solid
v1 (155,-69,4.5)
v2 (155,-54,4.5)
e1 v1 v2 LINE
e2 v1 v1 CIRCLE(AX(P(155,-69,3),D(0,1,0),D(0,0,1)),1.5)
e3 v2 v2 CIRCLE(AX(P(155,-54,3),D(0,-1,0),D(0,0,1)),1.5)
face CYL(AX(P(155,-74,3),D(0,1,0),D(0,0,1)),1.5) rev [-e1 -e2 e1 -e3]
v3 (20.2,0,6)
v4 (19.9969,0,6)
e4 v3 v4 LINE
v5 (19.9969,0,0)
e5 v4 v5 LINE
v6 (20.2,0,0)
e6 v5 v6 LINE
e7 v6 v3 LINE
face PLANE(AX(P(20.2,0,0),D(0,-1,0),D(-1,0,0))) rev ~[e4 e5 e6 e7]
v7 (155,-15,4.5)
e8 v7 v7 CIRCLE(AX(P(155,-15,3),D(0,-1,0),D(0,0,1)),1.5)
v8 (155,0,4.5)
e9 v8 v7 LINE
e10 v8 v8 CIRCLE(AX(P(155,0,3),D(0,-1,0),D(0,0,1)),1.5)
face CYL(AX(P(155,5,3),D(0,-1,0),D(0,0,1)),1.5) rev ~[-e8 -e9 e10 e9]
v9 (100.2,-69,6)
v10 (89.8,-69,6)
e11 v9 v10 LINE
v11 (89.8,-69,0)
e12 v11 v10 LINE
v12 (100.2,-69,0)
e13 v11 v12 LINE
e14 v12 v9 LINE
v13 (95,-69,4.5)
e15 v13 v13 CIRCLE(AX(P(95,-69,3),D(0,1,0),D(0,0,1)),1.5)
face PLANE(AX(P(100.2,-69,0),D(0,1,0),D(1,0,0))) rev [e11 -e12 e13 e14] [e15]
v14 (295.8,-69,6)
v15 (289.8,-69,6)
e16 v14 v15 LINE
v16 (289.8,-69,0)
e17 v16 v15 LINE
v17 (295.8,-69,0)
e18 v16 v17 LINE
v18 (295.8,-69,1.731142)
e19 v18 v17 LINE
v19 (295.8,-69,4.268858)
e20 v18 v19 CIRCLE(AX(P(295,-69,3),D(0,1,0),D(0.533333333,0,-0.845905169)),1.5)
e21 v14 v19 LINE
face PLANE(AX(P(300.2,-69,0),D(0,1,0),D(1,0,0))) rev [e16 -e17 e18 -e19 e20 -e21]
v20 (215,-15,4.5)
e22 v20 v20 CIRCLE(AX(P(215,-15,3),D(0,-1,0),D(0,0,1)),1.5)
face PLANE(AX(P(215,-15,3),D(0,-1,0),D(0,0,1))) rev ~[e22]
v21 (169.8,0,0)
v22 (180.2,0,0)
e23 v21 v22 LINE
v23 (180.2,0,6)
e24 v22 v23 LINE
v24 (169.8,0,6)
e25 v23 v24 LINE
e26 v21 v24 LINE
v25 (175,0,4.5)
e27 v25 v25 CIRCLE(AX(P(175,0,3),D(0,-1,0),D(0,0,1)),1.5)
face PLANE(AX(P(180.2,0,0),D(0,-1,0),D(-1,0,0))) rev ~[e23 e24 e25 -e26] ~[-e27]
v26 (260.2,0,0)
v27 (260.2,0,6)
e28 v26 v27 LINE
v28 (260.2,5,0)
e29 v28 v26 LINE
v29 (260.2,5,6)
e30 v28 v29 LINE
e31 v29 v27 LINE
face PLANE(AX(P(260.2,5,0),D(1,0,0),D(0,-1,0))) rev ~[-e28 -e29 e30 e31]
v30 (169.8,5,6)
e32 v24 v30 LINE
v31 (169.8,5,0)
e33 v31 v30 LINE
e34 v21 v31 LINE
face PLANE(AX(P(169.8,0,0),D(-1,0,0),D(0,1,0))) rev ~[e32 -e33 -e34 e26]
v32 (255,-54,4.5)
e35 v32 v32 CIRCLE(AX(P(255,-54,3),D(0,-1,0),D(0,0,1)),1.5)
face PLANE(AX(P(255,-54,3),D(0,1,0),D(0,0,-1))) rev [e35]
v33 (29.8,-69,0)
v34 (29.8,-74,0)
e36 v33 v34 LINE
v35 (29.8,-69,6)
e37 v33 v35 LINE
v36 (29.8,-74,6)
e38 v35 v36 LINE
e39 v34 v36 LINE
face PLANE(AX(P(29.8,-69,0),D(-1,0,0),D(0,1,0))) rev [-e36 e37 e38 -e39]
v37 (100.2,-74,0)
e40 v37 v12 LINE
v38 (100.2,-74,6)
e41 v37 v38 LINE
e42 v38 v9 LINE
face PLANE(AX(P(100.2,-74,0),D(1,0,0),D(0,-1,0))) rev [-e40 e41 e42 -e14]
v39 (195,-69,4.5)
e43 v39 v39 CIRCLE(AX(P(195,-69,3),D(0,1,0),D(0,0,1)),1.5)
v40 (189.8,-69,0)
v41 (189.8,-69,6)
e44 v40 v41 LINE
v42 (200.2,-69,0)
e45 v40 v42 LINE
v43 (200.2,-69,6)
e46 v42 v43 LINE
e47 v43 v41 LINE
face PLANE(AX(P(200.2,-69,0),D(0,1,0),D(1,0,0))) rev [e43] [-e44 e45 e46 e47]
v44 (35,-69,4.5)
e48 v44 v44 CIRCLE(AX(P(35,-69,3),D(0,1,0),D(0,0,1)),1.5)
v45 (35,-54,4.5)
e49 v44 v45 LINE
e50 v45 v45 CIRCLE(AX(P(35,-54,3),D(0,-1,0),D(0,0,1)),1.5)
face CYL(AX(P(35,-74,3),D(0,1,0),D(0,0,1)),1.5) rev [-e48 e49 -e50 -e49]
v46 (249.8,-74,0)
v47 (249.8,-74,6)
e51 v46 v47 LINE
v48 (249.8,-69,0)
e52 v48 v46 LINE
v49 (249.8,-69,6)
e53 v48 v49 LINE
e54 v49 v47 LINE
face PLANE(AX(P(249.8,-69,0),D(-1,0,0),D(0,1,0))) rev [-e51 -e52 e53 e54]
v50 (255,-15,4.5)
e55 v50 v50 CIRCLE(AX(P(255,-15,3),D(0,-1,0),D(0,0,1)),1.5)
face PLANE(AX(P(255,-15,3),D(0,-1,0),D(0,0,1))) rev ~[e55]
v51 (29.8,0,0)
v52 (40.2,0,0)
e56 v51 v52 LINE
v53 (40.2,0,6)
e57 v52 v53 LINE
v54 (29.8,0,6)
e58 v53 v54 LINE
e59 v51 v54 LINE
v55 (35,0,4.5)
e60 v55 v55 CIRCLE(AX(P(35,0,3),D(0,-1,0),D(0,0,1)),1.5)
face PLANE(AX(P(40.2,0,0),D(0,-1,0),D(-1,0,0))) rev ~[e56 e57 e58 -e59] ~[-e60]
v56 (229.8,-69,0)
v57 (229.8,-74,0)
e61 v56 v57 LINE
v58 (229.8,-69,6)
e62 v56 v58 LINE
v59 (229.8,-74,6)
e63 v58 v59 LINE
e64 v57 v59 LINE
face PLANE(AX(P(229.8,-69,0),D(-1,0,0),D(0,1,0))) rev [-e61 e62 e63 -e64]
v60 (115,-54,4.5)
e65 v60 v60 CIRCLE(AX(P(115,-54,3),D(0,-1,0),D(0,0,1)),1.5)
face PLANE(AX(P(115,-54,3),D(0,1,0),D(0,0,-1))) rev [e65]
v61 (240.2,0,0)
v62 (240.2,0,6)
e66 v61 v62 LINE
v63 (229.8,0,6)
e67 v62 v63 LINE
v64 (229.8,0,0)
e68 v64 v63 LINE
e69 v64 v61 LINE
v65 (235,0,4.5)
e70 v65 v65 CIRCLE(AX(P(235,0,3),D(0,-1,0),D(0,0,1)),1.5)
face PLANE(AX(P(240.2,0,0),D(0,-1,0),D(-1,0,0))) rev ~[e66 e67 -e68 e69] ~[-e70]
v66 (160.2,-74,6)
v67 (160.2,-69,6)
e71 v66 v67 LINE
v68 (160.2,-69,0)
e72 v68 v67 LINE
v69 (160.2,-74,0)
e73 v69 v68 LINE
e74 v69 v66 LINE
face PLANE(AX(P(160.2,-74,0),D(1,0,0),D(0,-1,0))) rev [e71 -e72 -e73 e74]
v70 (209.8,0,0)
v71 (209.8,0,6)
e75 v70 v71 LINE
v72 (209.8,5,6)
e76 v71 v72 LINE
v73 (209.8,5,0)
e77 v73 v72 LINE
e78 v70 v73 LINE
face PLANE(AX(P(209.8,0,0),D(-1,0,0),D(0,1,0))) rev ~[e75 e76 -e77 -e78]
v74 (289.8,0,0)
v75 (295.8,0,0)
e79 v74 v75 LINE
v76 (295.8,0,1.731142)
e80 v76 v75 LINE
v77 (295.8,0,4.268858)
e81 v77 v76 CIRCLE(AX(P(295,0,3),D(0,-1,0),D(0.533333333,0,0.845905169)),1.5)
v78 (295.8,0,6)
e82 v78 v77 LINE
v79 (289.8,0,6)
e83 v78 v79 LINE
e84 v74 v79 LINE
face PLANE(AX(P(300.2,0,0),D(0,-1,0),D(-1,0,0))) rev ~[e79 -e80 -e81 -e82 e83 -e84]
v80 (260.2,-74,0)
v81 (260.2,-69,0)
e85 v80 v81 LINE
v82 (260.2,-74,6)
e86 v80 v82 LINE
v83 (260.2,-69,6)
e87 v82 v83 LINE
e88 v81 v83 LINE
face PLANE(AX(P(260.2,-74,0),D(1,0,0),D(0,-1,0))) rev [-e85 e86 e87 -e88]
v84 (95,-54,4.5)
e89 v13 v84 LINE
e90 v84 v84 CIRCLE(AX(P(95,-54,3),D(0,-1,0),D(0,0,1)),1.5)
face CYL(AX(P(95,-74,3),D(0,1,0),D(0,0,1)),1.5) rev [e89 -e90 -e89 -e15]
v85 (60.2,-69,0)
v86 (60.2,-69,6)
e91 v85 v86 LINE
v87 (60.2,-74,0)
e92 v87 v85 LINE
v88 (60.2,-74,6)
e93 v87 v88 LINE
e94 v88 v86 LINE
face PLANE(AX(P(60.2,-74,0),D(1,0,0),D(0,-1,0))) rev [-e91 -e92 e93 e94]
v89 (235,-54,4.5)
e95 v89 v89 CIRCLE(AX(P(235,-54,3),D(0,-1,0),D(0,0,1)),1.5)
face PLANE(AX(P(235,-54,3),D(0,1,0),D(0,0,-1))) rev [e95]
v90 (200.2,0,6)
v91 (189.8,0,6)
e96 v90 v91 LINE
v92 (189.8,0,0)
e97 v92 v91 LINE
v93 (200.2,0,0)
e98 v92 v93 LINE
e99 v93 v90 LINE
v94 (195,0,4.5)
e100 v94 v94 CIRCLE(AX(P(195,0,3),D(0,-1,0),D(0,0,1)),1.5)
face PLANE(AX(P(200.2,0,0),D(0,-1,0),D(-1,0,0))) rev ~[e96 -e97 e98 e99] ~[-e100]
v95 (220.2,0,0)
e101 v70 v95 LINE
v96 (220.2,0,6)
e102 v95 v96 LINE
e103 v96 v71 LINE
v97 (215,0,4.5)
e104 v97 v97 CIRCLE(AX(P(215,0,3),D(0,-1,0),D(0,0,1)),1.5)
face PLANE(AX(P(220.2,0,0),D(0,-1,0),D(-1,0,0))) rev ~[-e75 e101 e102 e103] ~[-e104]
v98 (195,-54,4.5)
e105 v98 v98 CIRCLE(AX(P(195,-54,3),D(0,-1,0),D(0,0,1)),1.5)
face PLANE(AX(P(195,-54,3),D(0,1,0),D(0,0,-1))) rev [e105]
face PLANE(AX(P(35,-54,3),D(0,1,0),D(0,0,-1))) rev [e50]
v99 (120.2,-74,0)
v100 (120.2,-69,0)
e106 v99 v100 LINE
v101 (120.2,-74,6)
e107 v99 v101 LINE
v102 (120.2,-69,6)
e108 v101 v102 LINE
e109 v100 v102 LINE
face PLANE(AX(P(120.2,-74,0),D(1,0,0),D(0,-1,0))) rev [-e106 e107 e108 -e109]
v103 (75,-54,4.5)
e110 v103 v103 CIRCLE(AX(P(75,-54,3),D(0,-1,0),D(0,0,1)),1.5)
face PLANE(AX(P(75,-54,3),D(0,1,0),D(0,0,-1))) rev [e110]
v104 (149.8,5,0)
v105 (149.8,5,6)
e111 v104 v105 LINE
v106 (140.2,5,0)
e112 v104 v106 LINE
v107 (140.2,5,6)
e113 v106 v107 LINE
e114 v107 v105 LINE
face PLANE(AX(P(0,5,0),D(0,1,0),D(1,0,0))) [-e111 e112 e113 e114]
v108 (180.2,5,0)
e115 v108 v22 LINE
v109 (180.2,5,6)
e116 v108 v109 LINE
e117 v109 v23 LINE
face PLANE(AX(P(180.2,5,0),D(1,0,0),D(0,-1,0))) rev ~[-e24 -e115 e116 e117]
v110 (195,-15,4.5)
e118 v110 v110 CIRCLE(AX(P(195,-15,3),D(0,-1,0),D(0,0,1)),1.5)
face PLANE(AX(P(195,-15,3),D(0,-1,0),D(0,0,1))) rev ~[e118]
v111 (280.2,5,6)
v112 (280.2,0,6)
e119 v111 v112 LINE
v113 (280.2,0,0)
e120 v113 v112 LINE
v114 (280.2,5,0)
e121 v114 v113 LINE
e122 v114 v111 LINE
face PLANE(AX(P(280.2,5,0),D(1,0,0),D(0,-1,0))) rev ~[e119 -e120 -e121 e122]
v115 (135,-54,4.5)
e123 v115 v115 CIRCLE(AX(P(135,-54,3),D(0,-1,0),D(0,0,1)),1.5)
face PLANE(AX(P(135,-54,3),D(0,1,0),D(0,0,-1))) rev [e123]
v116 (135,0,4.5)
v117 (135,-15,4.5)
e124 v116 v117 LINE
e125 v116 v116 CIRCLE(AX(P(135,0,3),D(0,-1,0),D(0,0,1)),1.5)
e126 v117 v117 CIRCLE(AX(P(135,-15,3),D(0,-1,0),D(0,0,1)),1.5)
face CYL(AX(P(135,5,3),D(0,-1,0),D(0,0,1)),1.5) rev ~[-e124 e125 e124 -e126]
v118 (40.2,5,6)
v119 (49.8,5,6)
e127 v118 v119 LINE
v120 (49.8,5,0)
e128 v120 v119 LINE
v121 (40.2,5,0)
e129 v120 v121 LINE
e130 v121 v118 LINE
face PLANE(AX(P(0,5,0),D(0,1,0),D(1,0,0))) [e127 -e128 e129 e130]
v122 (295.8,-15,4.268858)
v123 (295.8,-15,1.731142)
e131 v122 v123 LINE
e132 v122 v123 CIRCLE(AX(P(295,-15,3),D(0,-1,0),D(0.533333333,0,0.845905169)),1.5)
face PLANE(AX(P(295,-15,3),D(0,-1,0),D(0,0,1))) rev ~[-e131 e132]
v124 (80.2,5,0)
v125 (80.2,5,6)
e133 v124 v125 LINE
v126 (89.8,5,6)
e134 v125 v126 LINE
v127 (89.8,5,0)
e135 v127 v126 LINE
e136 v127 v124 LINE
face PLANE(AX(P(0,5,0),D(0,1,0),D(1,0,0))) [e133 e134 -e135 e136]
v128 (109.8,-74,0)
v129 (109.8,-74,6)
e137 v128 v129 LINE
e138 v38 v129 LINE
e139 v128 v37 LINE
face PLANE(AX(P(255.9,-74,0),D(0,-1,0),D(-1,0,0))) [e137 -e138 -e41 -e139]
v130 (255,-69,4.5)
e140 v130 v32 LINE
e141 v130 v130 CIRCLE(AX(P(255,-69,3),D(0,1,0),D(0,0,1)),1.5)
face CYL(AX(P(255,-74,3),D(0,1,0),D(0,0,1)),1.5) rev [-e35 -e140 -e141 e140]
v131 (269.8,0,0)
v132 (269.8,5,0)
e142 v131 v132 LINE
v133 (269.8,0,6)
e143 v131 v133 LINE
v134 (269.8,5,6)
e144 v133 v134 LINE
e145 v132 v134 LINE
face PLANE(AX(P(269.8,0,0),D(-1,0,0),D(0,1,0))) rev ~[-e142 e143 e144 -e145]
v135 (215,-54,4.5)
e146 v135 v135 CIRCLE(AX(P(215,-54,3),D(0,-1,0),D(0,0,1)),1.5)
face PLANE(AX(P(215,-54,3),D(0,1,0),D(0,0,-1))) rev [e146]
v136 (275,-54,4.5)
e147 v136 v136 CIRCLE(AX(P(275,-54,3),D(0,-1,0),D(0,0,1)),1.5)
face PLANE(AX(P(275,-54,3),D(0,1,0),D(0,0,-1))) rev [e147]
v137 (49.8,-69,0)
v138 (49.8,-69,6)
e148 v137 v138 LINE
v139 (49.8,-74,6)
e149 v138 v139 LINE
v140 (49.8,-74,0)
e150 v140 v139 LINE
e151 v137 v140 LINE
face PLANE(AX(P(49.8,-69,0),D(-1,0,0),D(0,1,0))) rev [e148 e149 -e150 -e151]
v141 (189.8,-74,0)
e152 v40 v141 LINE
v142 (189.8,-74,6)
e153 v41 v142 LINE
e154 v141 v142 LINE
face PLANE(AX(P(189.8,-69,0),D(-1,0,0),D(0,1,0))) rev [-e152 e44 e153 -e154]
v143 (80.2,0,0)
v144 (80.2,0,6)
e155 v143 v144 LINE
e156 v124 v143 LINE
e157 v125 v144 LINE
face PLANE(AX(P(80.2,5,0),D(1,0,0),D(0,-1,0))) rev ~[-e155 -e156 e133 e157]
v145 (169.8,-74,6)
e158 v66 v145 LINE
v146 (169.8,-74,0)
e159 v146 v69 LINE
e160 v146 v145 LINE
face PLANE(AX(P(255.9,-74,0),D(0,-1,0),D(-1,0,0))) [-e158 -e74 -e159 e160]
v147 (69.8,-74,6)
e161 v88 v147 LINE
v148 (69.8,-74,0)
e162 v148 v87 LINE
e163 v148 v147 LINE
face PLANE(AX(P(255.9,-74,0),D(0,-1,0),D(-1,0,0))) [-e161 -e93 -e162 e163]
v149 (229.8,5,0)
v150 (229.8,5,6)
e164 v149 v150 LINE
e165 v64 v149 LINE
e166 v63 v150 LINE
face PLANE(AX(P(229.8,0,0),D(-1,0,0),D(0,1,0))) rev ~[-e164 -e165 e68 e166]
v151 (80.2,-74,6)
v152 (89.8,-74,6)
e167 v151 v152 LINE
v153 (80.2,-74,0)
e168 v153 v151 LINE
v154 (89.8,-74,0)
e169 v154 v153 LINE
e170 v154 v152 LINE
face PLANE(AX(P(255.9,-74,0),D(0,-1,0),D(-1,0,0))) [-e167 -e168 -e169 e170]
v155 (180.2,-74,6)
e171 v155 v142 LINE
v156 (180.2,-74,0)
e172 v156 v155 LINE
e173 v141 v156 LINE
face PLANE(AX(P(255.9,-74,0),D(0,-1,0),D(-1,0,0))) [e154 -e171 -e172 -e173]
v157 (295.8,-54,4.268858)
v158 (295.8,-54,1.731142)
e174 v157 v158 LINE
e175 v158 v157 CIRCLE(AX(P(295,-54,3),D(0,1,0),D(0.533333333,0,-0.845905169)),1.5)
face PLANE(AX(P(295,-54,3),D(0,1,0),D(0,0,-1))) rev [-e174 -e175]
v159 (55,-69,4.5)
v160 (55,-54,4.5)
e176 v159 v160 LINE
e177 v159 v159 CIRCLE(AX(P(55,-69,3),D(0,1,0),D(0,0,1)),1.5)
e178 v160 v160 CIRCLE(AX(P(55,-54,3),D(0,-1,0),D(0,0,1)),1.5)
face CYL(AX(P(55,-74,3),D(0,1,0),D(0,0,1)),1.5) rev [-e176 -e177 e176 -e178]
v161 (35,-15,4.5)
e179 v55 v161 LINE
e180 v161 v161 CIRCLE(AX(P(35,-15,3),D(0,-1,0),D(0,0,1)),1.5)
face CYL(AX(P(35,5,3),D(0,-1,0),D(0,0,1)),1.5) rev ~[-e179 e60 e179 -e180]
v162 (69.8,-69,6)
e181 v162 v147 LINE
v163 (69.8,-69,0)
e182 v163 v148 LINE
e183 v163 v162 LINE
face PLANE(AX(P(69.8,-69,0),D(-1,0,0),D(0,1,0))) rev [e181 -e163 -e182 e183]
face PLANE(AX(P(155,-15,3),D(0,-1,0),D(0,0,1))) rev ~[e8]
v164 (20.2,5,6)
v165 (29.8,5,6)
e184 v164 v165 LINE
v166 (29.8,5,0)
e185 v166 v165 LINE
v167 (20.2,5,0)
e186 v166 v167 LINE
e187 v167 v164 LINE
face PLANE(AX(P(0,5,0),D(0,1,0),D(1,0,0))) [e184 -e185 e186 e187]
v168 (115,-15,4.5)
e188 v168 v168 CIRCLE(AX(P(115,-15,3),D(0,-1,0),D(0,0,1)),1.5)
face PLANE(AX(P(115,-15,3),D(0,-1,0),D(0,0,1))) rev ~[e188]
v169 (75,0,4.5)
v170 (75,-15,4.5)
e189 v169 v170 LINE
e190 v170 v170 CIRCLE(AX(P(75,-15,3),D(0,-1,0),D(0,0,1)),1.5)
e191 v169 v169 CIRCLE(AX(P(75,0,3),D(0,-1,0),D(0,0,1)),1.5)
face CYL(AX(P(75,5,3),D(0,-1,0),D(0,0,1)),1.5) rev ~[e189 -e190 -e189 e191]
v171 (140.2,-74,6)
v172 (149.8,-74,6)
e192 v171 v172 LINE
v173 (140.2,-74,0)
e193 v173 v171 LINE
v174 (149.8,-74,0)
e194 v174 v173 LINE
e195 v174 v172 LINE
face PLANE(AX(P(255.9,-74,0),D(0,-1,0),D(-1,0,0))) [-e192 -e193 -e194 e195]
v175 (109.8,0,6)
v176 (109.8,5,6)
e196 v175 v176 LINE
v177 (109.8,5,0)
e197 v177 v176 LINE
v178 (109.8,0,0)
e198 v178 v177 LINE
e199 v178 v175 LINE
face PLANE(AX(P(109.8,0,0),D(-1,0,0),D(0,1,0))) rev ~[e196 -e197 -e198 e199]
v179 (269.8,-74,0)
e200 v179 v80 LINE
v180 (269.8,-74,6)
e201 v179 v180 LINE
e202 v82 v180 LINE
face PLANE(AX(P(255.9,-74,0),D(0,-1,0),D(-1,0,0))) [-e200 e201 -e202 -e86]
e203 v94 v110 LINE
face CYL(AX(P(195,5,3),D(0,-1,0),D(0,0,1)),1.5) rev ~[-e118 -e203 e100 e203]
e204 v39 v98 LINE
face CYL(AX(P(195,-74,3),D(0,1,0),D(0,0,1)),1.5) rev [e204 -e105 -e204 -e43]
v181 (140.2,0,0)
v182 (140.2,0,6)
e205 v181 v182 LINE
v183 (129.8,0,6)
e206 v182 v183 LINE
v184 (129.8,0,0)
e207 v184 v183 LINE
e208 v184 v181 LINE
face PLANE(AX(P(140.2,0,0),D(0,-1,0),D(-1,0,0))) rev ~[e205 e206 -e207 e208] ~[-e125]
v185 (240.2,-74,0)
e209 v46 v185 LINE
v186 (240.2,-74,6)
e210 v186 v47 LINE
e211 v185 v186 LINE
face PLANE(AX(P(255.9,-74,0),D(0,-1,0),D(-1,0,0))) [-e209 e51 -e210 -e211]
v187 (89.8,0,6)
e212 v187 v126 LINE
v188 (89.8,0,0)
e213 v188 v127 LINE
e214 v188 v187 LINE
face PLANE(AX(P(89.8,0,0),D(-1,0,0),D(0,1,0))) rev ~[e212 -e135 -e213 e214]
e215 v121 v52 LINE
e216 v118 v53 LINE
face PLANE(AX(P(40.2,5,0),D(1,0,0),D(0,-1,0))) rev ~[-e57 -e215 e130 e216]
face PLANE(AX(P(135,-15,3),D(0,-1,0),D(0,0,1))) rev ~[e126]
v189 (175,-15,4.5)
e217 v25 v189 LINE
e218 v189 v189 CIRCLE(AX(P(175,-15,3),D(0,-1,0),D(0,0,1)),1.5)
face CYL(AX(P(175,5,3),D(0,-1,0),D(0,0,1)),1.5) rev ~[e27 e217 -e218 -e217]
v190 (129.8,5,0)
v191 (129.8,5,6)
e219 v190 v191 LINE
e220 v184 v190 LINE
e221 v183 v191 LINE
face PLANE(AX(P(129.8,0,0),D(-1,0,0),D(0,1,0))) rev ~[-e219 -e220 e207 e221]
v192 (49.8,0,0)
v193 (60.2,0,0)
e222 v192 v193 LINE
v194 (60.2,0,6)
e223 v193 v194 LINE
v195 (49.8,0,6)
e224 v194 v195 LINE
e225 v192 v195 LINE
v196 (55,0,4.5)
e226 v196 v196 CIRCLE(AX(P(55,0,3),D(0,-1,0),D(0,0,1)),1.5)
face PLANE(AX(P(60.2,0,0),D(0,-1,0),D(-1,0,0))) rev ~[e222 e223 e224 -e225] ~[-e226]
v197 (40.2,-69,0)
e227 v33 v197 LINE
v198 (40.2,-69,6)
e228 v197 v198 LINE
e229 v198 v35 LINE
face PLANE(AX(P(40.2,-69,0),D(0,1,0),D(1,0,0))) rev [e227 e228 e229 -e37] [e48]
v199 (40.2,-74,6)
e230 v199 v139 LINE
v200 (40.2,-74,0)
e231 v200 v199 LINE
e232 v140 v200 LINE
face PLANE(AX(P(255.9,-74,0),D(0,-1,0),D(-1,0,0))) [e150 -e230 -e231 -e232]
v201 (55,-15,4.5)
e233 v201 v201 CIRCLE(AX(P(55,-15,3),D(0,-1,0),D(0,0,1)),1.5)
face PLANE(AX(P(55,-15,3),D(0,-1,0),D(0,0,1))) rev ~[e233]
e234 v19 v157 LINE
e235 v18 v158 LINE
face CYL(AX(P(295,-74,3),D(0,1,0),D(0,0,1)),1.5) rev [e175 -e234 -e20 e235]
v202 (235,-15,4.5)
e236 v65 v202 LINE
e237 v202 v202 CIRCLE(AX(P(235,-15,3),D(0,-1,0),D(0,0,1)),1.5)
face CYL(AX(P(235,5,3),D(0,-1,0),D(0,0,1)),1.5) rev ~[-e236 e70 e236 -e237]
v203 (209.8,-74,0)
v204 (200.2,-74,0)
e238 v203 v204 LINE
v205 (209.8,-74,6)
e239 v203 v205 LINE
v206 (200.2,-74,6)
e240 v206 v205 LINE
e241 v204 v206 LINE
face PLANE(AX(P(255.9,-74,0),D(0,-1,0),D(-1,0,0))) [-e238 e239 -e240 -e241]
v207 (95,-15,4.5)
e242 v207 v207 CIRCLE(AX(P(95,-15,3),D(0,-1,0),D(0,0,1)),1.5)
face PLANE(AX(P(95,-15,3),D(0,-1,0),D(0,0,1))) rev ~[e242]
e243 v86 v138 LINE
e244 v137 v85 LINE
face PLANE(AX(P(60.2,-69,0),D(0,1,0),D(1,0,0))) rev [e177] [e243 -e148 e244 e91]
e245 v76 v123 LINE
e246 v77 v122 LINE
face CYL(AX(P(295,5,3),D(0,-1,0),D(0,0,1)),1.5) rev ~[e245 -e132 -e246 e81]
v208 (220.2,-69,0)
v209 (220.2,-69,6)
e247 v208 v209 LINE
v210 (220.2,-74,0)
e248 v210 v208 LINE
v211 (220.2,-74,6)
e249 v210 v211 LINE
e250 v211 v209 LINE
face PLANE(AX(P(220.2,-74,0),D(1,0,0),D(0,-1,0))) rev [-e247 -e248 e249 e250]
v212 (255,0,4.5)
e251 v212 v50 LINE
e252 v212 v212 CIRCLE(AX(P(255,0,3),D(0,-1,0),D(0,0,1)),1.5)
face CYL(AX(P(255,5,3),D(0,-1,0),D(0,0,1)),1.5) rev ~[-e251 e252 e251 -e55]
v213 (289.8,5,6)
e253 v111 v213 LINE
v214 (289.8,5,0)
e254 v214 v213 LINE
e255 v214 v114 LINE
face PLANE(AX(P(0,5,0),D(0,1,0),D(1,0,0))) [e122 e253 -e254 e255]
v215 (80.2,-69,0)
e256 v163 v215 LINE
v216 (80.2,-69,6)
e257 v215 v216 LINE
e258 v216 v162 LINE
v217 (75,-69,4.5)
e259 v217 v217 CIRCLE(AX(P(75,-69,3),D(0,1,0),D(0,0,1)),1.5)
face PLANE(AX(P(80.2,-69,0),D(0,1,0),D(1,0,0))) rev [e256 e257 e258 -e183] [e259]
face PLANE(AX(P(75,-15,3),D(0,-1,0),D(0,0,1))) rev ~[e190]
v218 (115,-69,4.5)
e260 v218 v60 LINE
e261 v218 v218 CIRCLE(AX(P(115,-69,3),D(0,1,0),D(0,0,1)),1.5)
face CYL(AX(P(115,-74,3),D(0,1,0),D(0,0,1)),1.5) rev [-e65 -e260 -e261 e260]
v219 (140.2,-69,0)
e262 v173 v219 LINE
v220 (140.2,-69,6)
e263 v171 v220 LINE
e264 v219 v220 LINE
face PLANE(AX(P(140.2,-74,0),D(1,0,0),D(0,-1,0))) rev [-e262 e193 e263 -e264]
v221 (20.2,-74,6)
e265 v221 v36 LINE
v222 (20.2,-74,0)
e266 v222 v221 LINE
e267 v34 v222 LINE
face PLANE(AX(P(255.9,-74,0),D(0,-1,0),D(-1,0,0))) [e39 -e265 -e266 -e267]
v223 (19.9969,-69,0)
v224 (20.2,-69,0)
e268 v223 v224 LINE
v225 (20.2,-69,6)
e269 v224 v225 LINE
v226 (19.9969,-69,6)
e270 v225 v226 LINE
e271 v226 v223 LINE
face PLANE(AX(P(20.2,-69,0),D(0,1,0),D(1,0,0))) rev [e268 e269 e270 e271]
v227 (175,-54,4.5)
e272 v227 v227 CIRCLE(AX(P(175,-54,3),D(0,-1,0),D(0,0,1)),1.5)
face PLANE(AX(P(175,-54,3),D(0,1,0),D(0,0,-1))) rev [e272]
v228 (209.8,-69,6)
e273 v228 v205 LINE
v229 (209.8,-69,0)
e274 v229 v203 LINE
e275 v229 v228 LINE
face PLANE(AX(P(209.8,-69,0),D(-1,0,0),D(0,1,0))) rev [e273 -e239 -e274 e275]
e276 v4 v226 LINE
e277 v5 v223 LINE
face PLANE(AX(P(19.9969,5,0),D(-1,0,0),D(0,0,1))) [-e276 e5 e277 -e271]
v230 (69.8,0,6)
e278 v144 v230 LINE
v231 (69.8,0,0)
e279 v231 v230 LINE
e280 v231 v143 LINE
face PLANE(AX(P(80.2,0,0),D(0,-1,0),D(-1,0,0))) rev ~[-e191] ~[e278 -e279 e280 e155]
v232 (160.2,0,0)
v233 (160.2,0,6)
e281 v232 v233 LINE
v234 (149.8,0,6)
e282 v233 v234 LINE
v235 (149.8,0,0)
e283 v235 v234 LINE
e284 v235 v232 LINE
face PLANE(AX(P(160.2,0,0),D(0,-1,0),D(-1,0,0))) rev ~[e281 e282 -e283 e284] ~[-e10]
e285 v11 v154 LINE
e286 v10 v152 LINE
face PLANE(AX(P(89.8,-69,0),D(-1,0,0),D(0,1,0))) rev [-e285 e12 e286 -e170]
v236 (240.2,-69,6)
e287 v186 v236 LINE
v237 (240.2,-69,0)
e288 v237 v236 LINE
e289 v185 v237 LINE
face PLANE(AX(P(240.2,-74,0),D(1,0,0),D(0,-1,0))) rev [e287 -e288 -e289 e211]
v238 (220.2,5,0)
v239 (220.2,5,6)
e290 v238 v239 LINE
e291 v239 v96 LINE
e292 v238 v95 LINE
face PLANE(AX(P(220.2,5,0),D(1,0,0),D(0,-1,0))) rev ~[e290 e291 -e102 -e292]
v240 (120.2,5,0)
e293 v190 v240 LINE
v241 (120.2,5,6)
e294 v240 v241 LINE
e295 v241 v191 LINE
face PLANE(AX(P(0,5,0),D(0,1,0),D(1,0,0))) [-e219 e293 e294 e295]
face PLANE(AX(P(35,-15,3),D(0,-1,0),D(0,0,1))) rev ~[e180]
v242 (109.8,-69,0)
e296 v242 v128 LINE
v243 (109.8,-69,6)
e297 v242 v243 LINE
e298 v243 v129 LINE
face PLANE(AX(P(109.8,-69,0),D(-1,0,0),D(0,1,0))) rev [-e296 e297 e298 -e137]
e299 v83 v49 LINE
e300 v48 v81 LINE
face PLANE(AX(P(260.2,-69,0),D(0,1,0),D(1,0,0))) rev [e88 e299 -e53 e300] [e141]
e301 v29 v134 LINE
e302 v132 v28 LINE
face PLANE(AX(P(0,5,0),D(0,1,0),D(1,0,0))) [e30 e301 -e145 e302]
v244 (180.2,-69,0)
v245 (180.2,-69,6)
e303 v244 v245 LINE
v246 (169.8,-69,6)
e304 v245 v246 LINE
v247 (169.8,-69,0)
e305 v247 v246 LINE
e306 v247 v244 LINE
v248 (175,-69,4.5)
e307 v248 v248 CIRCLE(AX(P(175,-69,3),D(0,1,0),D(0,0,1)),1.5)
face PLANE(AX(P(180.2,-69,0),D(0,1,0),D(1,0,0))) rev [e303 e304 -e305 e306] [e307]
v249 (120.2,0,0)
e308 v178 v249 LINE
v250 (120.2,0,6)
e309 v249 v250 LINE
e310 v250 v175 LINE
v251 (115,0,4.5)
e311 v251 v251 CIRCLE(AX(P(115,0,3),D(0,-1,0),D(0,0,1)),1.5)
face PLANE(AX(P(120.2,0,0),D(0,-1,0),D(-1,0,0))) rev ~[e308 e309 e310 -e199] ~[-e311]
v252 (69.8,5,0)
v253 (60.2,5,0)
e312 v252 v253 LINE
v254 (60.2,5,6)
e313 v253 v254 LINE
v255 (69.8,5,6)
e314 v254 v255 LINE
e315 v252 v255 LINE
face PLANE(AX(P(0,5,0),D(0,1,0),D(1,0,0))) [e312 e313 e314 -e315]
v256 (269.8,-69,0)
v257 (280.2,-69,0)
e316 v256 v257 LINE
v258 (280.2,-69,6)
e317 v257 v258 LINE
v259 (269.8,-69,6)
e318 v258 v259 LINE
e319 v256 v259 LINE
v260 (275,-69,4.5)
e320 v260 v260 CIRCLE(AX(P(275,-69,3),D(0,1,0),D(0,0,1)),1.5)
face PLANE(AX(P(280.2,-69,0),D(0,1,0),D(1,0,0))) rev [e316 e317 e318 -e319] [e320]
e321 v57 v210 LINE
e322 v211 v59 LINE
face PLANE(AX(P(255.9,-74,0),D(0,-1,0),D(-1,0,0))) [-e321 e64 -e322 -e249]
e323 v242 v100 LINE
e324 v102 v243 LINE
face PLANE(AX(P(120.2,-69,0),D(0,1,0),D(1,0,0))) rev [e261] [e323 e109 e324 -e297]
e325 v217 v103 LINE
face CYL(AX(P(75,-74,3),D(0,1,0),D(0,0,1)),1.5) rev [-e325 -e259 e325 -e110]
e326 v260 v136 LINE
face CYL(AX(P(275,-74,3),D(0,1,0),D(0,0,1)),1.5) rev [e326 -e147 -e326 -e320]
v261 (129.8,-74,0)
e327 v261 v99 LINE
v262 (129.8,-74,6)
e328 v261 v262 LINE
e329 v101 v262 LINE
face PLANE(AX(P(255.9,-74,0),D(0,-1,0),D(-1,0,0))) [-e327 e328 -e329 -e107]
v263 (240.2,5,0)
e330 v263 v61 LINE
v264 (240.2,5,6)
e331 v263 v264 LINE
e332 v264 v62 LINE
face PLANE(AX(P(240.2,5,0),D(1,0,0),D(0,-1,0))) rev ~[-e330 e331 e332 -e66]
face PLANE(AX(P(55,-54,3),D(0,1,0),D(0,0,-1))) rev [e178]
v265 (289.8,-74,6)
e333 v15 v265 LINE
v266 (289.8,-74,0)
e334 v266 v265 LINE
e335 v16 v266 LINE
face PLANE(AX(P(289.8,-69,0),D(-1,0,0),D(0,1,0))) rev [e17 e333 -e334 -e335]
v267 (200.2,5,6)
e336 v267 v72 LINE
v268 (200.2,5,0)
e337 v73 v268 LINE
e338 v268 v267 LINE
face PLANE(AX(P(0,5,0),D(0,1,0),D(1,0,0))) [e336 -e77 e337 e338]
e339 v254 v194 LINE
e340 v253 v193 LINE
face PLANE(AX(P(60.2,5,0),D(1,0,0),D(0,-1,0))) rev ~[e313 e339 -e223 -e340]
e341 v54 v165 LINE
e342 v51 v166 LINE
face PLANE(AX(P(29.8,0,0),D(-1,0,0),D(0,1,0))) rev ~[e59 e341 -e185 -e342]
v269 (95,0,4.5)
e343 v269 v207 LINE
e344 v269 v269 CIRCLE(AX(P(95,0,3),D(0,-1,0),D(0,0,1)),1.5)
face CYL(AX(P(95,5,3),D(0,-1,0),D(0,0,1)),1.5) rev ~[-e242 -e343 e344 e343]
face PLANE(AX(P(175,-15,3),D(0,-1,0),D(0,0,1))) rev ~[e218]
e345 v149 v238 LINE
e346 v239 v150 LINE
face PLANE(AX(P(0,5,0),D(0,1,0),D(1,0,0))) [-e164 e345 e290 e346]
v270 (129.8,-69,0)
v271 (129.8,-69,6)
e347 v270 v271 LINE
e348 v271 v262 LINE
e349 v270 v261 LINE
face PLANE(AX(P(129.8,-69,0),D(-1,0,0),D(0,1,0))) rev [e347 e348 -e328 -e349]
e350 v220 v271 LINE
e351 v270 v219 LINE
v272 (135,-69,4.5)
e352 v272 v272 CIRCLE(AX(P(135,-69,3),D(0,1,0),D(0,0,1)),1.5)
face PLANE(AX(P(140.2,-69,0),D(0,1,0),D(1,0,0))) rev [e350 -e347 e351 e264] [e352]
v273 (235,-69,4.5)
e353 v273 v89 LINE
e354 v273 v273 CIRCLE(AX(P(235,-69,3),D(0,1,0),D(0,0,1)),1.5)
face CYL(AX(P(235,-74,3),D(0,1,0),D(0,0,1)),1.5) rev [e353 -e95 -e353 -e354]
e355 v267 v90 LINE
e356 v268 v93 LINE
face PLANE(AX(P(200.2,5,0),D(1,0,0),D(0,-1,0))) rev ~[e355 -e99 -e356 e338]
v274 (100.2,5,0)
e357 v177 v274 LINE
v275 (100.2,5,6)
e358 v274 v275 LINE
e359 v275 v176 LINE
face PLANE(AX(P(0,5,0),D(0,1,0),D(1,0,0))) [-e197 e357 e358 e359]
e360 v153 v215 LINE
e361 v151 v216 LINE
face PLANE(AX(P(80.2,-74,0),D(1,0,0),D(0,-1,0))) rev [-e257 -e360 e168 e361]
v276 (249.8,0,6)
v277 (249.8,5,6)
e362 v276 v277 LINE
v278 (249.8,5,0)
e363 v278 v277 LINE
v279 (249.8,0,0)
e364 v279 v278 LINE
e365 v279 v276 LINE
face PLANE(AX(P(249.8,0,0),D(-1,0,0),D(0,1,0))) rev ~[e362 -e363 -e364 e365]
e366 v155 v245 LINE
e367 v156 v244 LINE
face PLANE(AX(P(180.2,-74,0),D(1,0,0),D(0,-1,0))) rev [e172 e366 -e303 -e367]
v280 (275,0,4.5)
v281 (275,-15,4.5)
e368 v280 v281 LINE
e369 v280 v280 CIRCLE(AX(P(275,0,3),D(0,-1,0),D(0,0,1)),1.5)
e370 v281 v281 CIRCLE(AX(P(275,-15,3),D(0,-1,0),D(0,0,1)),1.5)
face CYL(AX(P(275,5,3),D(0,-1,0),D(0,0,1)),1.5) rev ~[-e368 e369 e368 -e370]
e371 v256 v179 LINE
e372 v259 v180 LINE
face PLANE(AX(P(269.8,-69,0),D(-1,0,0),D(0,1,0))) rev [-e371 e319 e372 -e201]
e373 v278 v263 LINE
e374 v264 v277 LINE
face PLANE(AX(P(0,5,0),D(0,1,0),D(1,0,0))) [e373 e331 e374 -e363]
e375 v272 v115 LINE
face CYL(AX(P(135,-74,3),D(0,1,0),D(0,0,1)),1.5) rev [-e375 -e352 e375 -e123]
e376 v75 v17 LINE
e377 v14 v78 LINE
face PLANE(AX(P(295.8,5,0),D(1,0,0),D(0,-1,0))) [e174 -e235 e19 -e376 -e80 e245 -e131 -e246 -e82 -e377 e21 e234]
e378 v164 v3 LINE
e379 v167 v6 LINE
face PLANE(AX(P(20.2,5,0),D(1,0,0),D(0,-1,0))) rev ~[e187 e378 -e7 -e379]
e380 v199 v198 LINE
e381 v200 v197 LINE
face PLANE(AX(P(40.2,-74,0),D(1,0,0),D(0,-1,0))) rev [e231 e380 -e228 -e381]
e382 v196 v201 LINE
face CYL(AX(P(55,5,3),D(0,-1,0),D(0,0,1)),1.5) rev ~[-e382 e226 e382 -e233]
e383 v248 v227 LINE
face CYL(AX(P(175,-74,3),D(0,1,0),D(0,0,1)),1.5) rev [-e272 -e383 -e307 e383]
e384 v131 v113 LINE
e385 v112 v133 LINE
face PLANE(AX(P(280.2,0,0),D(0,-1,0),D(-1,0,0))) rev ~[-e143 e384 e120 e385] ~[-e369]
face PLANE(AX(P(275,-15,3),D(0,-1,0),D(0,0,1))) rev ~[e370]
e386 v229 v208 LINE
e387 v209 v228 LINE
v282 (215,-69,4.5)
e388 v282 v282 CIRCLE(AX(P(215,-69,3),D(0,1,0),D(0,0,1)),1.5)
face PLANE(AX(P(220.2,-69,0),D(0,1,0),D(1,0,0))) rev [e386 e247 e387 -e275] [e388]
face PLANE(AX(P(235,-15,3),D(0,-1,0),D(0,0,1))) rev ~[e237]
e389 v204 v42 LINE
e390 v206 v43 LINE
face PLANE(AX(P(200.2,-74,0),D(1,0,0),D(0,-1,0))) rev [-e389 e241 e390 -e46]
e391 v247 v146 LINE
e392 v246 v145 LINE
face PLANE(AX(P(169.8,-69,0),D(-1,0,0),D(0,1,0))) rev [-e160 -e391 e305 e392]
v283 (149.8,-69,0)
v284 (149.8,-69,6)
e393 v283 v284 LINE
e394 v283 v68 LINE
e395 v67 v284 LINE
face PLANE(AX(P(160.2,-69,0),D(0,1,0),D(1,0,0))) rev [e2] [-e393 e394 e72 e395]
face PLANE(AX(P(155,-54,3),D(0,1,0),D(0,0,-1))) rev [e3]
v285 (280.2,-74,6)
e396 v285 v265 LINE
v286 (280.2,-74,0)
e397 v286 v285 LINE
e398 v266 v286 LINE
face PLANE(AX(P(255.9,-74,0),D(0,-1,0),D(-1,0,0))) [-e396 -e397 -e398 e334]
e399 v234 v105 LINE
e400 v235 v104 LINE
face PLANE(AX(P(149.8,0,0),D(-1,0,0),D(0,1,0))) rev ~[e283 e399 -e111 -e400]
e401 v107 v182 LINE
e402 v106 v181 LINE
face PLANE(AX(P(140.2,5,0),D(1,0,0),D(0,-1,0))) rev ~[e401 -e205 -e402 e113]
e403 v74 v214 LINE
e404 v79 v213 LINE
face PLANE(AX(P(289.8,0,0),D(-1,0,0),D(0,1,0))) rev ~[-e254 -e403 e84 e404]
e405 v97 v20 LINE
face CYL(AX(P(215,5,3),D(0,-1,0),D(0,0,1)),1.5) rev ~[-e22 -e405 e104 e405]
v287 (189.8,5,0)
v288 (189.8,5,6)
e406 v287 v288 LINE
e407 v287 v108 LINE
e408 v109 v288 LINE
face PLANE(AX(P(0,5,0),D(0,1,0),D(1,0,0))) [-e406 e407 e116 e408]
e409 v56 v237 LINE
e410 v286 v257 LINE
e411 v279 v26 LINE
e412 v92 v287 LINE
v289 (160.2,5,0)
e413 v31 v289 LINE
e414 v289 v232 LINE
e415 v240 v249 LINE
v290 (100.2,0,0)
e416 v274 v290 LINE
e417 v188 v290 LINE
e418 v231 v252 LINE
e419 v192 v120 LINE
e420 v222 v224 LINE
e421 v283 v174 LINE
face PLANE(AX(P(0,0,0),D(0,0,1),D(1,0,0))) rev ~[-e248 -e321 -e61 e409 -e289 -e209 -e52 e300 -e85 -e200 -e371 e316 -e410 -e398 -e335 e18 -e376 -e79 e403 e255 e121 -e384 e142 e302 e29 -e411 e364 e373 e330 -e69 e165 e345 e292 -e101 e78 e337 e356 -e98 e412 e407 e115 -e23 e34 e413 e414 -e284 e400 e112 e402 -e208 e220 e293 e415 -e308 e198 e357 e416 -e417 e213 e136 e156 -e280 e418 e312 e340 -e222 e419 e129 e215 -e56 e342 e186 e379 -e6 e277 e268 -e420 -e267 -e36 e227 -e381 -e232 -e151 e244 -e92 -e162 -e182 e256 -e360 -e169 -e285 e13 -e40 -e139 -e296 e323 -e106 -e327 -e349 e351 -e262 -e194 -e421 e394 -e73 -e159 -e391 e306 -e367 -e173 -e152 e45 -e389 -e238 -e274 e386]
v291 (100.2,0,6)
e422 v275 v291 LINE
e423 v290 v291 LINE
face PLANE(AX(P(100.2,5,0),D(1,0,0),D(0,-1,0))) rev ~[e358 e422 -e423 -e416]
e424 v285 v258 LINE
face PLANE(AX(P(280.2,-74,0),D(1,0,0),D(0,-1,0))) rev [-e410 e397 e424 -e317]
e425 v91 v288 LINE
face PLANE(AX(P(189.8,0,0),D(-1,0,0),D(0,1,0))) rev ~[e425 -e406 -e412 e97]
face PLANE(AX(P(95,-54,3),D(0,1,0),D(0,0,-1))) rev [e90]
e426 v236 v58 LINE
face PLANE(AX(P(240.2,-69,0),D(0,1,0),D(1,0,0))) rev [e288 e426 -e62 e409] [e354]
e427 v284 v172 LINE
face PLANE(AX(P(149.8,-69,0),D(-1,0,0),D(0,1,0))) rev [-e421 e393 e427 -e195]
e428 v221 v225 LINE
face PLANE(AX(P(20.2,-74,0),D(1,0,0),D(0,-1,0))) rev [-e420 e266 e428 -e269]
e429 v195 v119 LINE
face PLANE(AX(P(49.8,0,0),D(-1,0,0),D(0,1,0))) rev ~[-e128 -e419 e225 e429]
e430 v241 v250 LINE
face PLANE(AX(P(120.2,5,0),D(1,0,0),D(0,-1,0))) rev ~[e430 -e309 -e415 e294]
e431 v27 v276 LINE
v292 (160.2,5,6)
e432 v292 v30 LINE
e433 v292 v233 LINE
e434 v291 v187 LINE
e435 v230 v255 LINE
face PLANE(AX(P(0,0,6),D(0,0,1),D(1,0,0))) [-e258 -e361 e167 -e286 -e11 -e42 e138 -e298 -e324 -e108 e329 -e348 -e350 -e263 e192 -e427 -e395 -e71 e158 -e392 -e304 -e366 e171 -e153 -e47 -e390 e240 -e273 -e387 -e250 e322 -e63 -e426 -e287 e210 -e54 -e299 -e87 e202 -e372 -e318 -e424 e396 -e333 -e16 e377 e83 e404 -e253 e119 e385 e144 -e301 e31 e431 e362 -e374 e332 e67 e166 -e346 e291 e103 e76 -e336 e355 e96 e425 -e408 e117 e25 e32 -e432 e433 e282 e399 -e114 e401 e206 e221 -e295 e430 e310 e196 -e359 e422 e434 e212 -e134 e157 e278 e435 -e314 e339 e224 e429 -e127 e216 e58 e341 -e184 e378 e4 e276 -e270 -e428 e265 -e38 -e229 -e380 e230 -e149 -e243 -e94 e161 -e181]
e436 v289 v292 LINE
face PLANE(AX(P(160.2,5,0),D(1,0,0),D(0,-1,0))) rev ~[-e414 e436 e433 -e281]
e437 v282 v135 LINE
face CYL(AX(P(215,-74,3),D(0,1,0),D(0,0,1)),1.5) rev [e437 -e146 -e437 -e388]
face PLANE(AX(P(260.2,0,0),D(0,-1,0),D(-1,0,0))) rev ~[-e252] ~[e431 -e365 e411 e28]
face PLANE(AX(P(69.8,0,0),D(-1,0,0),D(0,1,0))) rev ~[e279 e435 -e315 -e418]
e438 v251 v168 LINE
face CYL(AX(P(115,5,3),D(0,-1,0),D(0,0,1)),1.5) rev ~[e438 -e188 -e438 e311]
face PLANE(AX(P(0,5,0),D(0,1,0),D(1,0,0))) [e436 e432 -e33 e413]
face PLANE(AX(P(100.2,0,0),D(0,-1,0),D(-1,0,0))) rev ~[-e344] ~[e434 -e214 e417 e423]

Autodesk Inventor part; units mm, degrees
ref_plane "YZ Plane" through (0, 0, 0) normal (1, 0, 0) x (0, 1, 0)
ref_plane "XZ Plane" through (0, 0, 0) normal (0, 1, 0) x (-1, 0, 0)
ref_plane "XY Plane" through (0, 0, 0) normal (0, 0, 1) x (1, 0, 0)
ref_plane "Arbeitsebene1" through (0, 0, 0) normal (0, 0, 1) x (1, 0, 0)
sketch "Skizze1" plane through (0, 0, 0) normal (0, 0, 1) x (1, 0, 0)
  line L0 (0, 5) -> (10, 5) projected
  line L1 (10, 0) -> (0, 0) projected
  line L2 (10, 0) -> (10, 5) projected
  line L3 (442.7944, 5) -> (442.7944, 0) projected
  line L4 (0, -68) -> (10, -68) projected
  line L5 (0, 5) -> (295.8, 5)
  line L6 (295.8, 5) -> (295.8, -68)
  line L7 (295.8, -68) -> (0, -68)
  line L8 (0, -68) -> (0, 5)
  line L9 (0, -68) -> (295.8, -68)
  line L10 (295.8, -68) -> (295.8, -74)
  line L11 (295.8, -74) -> (0, -74)
  line L12 (0, -74) -> (0, -68)
  line L13 (0, 0) -> (0, 5) projected
  line L14 (255.9, -69) -> (255.9, -74)
  line L15 (295.8, 6) -> (295.8, 1)
  point P0 (450, -68)
  point P1 (450, 0)
  point P2 (442.7944, 5)
  point P3 (450, -68)
  dimension "d0" = 6
  dimension "d29" = 0
extrude "Extrusion1" add sketch "Skizze1" along normal blind 6
sketch "Skizze2" plane through (0, 0, 0) normal (0, 0, -1) x (1, 0, 0)
  line L0 (20, 0) -> (20, -5) projected
  line L1 (10, -5) -> (10, 0) projected
  line L2 (0, -5) -> (0, 74) projected
  line L3 (9.8, -5) -> (20.2, -5)
  line L4 (20.2, -5) -> (20.2, 0)
  line L5 (20.2, 0) -> (9.8, 0)
  line L6 (9.8, 0) -> (9.8, -5)
  point P0 (0, 0)
  dimension "d6" = 0
  dimension "d17" = 0.2
  dimension "d18" = 0.2
extrude "Extrusion2" cut sketch "Skizze2" against normal blind 6
sketch "Skizze3" plane through (20.2, 5, 0) normal (0, 1, 0) x (1, 0, 0)
  line L0 (275.6, 0) -> (0, 0) projected
  line L1 (-10.4, -6) -> (0, -6) projected
  line L2 (0, 0) -> (0, -6) projected
  circle A0 centre (-5.2, -3) radius 1.5
  line L3 (-10.4, -6) -> (-10.4, 0) projected
  point P0 (-20.2, 0)
  point P1 (4.8, 3)
  point P2 (429.8, 0)
  point P3 (429.8, -6)
  dimension "d16" = 3
  dimension "d19" = 5.2
hole "Bohrung1" at (15, 5, 3) direction (0, -1, 0) diameter 3 depth 20
pattern_linear "Rechteckige Anordnung1" count 24 spacing 20 along (1, 0, 0) of "Extrusion2", "Bohrung1"
ref_plane "Arbeitsebene2" through (0, -34.5, 0) normal (0, -1, 0) x (1, 0, 0)
mirror "Spiegeln1" about plane through (0, -34.5, 0) normal (0, -1, 0) of "Extrusion2", "Bohrung1", "Rechteckige Anordnung1"
sketch "Skizze4" plane through (0, 5, 6) normal (0, 1, 0) x (1, 0, 0)
  line L0 (9.8, 0) -> (0, 0) projected
  line L1 (19.9969, 0) -> (-5.9169, 0)
  line L2 (-5.9169, 0) -> (-5.9169, 6)
  line L3 (-5.9169, 6) -> (19.9969, 6)
  line L4 (19.9969, 6) -> (19.9969, 0)
  line L5 (0, 6) -> (0, 0) projected
  line L6 (9.8, 0) -> (9.8, 6) projected
  line L7 (19.9, 6) -> (19.9, 0)
  point P0 (3.75, 0)
  point P1 (0, 0)
  point P2 (0, 6)
extrude "Extrusion3" cut sketch "Skizze4" against normal through all
properties part number "00_Baseplate_Simmo_side3"
